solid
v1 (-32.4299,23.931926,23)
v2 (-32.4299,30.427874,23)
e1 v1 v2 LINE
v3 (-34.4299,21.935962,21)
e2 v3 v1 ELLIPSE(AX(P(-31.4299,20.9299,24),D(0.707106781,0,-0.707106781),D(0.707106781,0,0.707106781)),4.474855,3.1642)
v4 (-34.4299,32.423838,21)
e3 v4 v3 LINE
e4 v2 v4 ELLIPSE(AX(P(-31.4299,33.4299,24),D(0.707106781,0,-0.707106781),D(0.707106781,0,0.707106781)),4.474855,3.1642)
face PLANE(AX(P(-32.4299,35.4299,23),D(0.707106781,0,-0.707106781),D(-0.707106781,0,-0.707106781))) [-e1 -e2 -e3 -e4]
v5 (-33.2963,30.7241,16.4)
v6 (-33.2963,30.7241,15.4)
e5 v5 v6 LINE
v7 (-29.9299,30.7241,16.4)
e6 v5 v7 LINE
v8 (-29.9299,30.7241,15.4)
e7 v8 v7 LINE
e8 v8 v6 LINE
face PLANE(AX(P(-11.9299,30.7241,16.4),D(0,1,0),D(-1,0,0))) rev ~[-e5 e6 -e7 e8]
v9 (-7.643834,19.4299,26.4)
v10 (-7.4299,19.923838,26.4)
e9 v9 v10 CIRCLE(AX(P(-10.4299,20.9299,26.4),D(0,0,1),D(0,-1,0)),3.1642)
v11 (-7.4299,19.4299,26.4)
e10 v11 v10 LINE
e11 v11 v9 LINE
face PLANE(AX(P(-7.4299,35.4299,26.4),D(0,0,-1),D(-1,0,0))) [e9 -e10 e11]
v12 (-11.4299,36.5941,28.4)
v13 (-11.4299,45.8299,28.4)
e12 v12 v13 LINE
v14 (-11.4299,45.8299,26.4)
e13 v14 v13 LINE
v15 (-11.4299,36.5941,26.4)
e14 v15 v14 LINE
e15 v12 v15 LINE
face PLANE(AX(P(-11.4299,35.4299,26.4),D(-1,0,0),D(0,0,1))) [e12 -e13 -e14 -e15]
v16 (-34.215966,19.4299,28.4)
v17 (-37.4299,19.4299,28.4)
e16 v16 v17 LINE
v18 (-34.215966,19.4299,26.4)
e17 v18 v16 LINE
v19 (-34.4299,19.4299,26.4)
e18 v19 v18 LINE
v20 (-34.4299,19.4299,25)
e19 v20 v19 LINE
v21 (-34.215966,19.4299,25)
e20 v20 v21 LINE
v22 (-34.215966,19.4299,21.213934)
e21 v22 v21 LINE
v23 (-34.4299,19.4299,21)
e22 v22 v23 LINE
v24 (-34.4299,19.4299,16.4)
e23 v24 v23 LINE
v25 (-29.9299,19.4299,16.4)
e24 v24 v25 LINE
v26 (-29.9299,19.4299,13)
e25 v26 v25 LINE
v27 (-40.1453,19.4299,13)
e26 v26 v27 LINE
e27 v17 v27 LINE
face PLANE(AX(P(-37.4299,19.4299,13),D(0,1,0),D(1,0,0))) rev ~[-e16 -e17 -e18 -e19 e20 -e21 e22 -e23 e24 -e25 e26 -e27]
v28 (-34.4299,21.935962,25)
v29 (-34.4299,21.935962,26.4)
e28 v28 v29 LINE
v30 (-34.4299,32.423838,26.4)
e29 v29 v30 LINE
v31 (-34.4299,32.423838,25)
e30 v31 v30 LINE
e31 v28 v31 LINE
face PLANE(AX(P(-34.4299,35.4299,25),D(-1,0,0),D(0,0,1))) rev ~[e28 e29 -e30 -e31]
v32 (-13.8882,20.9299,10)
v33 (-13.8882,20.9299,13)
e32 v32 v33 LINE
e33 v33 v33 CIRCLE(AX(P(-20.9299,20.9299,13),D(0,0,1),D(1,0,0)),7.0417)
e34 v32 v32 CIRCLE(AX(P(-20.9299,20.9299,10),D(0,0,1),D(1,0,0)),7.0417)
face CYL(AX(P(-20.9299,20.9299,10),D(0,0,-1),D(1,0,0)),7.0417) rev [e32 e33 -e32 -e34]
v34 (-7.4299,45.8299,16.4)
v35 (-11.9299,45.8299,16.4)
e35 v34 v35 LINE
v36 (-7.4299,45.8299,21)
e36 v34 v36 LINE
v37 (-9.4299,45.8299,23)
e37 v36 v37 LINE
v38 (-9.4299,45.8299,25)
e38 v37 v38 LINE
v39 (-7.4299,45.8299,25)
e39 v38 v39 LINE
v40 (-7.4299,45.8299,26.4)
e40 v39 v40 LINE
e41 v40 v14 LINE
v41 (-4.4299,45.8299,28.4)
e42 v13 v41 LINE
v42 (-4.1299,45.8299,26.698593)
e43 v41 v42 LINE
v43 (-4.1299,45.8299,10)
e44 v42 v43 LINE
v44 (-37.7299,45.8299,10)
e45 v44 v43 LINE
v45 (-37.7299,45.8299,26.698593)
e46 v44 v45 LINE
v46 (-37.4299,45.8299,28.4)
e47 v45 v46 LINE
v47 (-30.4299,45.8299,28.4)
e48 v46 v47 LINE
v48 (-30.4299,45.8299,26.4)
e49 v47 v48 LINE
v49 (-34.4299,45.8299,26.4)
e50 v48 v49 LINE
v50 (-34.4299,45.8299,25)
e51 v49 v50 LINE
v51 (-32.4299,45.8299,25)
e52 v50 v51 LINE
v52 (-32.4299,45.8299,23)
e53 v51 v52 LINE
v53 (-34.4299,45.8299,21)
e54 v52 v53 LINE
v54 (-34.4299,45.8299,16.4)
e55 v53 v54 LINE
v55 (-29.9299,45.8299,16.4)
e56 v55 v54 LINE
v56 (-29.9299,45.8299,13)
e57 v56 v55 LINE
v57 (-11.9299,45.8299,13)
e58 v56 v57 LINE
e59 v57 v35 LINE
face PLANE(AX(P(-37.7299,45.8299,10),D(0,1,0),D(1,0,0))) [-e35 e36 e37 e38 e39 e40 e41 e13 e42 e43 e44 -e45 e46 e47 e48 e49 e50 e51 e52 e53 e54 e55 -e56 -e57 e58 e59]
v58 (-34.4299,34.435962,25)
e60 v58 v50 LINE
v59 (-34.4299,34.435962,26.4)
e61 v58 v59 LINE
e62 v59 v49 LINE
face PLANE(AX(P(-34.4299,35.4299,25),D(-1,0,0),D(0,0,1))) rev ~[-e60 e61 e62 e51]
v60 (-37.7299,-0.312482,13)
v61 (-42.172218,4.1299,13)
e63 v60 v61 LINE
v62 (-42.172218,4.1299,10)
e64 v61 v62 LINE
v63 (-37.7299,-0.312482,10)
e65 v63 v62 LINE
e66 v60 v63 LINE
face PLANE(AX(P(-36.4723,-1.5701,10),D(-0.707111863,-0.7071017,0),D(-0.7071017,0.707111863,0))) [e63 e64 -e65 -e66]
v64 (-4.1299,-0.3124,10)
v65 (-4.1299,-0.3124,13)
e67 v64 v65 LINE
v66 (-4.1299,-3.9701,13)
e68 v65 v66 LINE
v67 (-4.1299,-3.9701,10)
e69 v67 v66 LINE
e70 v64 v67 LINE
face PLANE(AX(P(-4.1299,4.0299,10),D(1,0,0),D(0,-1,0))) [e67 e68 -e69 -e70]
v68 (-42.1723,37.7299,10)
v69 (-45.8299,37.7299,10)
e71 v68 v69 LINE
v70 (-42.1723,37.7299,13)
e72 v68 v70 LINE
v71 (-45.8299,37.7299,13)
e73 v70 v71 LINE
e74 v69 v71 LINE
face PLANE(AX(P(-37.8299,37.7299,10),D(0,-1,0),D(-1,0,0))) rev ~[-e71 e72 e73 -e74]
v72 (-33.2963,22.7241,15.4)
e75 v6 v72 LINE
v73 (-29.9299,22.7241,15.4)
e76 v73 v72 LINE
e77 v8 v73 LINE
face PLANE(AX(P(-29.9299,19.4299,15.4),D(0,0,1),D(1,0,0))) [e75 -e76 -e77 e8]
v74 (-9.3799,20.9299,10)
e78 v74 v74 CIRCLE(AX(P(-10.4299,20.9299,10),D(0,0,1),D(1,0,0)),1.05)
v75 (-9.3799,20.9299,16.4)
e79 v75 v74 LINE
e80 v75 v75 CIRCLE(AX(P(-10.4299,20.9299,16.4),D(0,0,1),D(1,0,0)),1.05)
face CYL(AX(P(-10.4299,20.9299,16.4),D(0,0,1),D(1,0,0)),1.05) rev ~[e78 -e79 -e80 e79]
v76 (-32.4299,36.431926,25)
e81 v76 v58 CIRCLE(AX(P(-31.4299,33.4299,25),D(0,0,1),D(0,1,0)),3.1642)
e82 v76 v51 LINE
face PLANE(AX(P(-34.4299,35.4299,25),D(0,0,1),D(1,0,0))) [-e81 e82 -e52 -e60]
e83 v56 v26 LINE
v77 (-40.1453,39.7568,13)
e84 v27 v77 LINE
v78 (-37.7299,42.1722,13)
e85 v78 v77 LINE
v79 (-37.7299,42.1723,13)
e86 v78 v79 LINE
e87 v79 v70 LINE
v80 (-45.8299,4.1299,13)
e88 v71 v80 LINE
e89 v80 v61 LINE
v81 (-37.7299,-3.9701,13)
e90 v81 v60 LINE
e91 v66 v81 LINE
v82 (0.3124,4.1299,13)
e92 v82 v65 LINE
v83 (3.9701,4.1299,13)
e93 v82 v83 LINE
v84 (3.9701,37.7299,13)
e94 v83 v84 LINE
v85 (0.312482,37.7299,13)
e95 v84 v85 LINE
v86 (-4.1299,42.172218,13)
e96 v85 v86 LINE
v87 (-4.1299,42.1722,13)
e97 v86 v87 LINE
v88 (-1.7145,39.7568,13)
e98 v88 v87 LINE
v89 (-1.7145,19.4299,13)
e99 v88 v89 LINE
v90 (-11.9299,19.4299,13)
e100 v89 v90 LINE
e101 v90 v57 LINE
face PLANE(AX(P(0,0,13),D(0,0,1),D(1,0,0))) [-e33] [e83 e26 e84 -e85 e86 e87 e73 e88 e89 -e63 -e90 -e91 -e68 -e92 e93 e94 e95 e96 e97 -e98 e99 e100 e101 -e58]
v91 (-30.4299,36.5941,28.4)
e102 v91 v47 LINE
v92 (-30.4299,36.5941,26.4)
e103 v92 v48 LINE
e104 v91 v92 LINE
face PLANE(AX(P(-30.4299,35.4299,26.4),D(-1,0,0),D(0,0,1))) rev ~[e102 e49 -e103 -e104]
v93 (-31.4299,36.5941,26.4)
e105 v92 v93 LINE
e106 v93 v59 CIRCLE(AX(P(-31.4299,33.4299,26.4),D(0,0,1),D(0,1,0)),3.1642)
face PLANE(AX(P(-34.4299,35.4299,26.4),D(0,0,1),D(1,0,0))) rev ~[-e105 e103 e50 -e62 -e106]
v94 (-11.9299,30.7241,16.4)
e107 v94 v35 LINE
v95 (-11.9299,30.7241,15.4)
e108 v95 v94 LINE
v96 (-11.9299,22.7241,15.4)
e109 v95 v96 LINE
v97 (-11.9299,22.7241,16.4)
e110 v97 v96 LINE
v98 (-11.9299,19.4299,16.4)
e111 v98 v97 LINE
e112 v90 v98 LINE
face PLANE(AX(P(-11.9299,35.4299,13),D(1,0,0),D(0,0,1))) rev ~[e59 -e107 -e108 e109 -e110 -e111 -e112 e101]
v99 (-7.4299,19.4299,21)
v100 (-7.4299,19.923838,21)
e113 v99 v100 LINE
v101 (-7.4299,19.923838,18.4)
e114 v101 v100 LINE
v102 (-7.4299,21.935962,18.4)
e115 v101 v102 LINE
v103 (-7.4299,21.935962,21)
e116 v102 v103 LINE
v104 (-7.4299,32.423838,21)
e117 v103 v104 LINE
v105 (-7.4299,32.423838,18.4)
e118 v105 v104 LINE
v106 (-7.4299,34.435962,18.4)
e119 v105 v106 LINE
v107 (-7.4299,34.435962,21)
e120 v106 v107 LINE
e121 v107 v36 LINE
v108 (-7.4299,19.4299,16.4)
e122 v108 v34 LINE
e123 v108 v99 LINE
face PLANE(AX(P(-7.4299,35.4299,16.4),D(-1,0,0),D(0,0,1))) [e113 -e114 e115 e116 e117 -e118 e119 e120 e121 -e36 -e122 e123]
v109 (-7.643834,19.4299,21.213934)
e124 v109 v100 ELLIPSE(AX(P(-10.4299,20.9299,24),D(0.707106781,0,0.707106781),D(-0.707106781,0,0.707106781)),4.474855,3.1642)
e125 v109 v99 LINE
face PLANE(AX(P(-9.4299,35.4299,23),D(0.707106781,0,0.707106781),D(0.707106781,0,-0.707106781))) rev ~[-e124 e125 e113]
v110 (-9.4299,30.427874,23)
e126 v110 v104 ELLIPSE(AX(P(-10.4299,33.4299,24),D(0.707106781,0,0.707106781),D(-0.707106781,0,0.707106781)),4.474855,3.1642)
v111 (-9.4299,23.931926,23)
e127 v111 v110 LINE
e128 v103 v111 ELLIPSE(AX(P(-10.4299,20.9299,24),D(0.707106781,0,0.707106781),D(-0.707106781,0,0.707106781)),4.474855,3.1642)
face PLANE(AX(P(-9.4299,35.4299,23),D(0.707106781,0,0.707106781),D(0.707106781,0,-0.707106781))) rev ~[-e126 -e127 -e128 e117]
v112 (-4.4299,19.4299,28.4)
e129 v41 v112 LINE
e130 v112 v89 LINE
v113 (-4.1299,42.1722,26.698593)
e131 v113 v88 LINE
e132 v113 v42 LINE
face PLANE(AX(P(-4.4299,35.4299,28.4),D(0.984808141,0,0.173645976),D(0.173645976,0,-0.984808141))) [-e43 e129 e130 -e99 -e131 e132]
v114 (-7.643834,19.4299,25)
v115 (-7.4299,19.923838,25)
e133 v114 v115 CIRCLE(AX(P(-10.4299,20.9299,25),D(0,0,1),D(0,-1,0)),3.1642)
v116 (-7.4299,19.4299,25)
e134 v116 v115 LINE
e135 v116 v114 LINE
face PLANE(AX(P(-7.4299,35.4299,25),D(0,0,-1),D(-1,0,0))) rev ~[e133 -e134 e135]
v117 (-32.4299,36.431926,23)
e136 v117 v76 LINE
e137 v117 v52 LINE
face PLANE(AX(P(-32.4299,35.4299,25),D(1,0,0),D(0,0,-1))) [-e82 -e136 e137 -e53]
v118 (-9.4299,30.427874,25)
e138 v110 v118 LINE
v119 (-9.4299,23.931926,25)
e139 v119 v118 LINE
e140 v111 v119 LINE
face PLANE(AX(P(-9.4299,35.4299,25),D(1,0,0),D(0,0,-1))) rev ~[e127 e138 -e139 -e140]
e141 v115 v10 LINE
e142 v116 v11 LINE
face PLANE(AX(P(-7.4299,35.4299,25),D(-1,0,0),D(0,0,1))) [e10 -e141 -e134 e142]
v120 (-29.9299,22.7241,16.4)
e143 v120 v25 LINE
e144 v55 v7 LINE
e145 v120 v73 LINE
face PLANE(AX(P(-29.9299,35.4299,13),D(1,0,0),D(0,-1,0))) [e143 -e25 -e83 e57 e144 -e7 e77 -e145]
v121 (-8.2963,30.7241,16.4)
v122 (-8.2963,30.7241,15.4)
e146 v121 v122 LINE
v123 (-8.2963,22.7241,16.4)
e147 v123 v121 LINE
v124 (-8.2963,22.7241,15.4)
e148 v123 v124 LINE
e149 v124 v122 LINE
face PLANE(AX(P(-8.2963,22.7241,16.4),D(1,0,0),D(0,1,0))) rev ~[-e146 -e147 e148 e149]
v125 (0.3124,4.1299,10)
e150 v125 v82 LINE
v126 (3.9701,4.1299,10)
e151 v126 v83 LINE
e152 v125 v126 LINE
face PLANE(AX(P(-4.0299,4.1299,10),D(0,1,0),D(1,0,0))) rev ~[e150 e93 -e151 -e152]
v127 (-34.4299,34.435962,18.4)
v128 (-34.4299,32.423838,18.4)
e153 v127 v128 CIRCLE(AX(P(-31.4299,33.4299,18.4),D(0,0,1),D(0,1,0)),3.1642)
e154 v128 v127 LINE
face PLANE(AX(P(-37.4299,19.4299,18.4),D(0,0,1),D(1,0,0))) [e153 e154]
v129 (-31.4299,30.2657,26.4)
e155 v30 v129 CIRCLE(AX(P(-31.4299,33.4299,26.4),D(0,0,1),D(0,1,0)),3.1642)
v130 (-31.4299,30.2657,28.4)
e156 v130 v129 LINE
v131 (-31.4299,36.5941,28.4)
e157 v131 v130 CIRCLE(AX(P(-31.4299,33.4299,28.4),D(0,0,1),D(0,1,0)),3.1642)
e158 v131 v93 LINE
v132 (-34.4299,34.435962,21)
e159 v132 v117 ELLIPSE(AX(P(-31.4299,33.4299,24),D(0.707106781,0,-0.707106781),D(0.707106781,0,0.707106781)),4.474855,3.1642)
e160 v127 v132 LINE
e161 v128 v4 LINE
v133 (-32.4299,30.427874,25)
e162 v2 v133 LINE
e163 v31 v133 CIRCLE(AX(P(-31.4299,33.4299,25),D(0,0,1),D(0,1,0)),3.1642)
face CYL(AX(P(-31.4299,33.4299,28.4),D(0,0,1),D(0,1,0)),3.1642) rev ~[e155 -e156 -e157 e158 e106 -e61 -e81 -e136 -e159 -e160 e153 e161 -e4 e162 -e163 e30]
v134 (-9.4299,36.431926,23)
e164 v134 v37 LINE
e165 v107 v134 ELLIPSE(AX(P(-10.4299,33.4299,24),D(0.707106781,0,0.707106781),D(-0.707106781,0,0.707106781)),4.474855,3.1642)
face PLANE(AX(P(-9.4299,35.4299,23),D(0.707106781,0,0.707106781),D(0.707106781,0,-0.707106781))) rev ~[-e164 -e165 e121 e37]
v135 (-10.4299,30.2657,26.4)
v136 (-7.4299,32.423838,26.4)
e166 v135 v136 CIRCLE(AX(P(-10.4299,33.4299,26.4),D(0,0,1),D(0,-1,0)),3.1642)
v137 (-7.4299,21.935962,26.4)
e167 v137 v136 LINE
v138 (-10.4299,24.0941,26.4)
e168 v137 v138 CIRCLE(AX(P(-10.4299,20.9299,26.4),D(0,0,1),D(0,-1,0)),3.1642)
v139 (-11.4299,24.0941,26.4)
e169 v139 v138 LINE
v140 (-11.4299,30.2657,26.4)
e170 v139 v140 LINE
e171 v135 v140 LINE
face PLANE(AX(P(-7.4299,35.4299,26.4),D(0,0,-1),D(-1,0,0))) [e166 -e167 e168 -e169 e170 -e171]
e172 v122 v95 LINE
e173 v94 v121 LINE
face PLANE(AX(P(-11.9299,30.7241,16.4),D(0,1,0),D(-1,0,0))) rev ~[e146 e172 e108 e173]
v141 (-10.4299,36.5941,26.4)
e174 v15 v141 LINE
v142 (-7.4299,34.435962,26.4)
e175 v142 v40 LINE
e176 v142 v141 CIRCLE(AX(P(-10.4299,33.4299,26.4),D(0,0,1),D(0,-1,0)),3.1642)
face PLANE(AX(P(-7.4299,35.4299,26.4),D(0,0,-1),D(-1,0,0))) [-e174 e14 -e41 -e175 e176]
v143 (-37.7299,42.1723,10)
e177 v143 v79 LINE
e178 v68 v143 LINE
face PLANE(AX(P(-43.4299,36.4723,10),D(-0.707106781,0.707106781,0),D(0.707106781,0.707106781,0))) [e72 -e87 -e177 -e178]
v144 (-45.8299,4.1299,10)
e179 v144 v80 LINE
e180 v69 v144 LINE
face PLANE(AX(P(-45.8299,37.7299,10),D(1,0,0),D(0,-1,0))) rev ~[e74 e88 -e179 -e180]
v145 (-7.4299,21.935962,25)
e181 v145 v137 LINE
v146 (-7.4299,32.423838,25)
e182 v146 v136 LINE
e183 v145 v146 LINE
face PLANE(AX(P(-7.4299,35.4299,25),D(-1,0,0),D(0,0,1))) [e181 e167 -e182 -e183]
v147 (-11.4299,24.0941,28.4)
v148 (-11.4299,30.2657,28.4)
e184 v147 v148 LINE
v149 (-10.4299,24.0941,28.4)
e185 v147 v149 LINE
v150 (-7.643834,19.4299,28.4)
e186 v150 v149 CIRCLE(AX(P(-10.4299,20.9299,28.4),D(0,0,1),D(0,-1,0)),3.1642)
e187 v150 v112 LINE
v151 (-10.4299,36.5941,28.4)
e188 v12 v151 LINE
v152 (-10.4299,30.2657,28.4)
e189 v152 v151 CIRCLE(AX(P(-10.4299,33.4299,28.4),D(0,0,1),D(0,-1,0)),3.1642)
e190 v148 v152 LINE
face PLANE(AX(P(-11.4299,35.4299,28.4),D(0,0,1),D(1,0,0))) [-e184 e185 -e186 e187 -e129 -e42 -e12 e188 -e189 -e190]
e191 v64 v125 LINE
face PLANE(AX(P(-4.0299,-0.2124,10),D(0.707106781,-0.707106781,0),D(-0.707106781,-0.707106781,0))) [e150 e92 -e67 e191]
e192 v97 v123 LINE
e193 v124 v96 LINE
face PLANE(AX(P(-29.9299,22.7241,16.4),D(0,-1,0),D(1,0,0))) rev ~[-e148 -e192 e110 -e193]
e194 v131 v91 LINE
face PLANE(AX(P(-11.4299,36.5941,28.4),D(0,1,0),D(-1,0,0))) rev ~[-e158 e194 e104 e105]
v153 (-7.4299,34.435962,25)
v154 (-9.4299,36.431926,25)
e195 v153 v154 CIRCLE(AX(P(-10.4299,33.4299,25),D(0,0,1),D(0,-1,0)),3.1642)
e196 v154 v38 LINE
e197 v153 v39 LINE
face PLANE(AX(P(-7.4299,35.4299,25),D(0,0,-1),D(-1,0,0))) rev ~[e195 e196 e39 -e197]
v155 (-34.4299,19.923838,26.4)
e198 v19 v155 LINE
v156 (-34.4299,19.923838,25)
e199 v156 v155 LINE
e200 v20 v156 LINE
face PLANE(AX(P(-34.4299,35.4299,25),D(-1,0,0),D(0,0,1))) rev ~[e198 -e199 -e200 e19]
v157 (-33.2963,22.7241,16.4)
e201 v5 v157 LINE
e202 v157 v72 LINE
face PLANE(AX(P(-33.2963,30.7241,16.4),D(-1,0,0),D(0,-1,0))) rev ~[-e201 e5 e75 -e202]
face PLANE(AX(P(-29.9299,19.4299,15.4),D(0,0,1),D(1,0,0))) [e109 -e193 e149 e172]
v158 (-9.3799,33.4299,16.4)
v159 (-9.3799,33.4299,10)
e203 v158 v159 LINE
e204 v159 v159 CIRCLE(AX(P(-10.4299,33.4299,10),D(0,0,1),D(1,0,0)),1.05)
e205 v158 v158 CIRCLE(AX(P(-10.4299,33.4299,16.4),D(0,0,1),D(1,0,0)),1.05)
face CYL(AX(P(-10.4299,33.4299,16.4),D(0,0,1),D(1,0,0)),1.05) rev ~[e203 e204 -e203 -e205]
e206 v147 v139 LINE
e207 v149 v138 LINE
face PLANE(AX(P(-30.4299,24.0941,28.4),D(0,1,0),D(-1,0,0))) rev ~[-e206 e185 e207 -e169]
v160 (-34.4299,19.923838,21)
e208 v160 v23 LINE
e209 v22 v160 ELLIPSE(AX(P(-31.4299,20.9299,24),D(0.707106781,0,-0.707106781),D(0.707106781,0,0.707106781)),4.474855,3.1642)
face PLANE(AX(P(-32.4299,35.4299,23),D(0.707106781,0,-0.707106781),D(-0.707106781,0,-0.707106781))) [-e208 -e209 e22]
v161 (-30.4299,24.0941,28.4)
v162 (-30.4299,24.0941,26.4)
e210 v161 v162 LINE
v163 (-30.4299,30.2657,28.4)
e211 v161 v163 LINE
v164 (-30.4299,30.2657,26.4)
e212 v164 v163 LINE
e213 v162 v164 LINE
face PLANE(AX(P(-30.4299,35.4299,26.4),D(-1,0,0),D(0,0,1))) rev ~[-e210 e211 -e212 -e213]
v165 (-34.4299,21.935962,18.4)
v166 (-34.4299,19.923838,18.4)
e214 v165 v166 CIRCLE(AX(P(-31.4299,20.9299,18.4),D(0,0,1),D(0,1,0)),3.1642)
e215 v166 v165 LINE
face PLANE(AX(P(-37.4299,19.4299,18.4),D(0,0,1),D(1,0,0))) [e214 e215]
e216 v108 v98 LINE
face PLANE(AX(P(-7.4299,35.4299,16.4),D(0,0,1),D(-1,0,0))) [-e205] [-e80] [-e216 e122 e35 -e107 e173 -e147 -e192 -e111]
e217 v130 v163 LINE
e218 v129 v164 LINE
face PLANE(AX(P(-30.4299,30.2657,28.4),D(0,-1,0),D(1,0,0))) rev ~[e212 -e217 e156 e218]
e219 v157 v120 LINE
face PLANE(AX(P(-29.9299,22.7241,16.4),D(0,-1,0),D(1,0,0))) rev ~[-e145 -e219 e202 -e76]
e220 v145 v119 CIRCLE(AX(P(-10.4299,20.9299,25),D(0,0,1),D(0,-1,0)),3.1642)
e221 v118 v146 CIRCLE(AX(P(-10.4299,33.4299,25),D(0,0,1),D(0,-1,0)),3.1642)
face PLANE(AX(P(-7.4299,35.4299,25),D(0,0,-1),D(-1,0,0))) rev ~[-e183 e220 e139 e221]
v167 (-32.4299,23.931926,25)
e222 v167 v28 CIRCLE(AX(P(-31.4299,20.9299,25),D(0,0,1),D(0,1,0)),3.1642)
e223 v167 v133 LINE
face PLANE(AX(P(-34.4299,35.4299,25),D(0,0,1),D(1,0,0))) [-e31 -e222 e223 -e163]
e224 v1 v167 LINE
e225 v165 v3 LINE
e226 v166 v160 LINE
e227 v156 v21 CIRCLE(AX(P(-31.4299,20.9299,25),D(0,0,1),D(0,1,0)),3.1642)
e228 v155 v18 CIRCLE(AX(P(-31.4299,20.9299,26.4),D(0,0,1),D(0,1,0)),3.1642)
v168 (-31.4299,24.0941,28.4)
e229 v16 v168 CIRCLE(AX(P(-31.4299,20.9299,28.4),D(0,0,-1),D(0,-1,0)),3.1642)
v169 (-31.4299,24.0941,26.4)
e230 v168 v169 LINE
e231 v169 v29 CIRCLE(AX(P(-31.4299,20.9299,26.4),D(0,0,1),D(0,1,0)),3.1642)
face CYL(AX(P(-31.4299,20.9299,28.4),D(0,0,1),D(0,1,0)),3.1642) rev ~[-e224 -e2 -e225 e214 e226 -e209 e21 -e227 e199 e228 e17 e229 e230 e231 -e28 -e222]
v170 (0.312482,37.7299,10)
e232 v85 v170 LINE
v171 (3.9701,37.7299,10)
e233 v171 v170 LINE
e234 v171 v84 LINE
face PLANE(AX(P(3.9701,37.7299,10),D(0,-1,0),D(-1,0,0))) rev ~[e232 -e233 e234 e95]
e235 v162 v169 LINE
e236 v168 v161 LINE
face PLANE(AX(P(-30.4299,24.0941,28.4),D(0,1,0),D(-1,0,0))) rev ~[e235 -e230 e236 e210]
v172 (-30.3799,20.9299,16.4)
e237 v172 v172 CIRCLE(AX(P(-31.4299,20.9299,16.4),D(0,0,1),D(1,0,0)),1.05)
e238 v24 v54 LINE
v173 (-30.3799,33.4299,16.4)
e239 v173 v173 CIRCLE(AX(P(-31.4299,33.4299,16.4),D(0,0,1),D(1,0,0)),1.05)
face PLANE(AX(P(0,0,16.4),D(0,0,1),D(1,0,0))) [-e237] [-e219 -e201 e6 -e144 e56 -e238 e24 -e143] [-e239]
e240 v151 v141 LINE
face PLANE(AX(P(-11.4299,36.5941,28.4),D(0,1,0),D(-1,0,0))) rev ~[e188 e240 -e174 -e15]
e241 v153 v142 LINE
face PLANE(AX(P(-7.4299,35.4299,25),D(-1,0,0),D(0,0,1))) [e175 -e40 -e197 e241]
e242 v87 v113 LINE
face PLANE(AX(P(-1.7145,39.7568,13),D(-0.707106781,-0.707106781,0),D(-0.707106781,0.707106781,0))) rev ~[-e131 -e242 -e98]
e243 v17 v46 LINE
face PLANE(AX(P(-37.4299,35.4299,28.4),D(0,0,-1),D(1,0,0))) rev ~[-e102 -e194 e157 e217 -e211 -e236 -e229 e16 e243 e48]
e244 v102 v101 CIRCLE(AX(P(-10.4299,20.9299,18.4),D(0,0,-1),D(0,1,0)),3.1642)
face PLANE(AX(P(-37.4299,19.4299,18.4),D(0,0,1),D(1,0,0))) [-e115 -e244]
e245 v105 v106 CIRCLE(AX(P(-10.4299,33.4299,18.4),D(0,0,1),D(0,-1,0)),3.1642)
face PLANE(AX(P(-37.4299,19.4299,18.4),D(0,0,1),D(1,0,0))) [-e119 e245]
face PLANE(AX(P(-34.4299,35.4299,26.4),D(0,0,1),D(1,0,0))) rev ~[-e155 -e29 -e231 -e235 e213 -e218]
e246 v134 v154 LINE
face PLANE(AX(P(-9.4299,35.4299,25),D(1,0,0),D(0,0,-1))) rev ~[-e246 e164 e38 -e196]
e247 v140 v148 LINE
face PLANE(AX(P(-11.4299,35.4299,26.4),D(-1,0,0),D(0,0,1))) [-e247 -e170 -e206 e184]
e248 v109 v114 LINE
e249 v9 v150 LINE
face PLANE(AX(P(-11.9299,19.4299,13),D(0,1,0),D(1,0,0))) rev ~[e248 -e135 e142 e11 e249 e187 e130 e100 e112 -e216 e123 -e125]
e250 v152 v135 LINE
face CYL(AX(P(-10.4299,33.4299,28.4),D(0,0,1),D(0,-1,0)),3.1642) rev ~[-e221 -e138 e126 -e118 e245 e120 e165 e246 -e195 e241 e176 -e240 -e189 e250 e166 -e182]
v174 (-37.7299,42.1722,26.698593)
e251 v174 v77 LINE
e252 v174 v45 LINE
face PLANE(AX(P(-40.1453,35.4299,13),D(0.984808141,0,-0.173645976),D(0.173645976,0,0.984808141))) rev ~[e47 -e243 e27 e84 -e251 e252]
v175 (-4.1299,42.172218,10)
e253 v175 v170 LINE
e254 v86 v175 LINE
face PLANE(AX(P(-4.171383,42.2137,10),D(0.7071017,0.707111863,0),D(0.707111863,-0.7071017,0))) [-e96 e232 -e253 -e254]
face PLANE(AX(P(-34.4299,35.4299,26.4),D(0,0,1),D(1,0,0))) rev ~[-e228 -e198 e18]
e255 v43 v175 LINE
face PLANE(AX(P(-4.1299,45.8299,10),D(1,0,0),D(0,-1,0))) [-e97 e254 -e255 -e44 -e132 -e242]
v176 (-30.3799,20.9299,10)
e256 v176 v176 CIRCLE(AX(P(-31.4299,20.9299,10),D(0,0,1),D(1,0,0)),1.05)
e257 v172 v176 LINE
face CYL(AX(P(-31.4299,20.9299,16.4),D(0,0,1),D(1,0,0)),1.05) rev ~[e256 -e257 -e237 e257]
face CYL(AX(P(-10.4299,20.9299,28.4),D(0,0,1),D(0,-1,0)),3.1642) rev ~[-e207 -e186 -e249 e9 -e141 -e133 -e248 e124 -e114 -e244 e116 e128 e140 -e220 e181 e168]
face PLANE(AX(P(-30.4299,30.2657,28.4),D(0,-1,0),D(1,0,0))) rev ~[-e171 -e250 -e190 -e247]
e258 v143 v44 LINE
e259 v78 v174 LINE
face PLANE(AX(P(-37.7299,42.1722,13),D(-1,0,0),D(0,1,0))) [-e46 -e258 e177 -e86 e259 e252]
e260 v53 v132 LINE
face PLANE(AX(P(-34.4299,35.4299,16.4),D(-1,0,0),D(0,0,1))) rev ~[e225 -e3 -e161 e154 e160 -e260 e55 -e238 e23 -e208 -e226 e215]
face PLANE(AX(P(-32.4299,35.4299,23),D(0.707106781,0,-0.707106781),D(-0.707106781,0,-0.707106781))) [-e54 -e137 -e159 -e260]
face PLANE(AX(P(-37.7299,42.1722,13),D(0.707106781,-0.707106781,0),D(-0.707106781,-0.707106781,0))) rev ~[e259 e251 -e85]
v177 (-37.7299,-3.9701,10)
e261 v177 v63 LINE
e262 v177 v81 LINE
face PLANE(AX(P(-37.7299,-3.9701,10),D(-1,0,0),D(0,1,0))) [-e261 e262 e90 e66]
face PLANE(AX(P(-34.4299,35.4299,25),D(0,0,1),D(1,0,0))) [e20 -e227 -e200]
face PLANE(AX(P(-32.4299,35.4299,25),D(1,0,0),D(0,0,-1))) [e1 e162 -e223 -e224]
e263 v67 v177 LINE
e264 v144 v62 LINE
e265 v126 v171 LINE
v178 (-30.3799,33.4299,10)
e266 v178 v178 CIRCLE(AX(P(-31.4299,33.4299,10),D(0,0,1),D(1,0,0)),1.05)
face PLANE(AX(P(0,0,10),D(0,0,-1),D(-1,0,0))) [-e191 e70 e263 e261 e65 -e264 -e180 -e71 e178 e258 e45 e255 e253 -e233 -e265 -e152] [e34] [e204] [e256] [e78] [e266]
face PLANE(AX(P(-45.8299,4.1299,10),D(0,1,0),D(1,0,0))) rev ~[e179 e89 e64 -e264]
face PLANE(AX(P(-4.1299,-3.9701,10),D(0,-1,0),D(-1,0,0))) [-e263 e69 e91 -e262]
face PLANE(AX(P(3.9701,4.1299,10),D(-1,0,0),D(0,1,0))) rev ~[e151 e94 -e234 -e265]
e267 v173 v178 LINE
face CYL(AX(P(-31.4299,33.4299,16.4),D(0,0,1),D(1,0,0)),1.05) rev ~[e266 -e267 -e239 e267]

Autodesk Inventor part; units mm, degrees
ref_plane "YZ Plane" through (0, 0, 0) normal (1, 0, 0) x (0, 1, 0)
ref_plane "XZ Plane" through (0, 0, 0) normal (0, 1, 0) x (-1, 0, 0)
ref_plane "Work Plane1" through (0, 0, 10) normal (0, 0, 1) x (1, 0, 0)
sketch "Sketch1" plane through (0, 0, 10) normal (0, 0, 1) x (1, 0, 0)
  line L0 (-4.0299, -0.3538) -> (-2.2322, 1.4439) construction
  arc A0 (-1.4439, 2.2322) -> (-2.2322, 1.4439) centre (-0.9299, 0.9299) ccw construction
  line L1 (-1.4439, 2.2322) -> (0.3538, 4.0299) construction
  line L2 (-37.8299, 42.2137) -> (-37.8299, 45.8299) construction
  line L3 (-37.8299, 45.8299) -> (-4.0299, 45.8299) construction
  line L4 (-4.0299, 45.8299) -> (-4.0299, 42.2137) construction
  line L5 (-4.0299, 4.0299) -> (0.3538, 4.0299) projected
  circle A1 centre (-20.9299, 20.9299) radius 17.5 projected
  line L6 (-20.9299, 58.9723) -> (17.1124, 20.9299) construction
  line L7 (17.1124, 20.9299) -> (-20.9299, -17.1124) construction
  line L8 (-20.9299, -17.1124) -> (-58.9723, 20.9299) construction
  line L9 (-58.9723, 20.9299) -> (-20.9299, 58.9723) construction
  line L10 (-20.9299, 58.9723) -> (-20.9299, -17.1124) construction
  line L11 (17.1124, 20.9299) -> (-58.9723, 20.9299) construction
  line L12 (-20.9299, 58.9723) -> (32.8701, 58.9723) construction
  line L13 (-43.4299, 43.4299) -> (1.5701, 43.4299) construction
  line L14 (1.5701, 43.4299) -> (1.5701, -1.5701) construction
  line L15 (1.5701, -1.5701) -> (-43.4299, -1.5701) construction
  line L16 (-43.4299, -1.5701) -> (-43.4299, 43.4299) construction
  line L17 (-43.4299, 43.4299) -> (1.5701, -1.5701) construction
  line L18 (1.5701, 43.4299) -> (-43.4299, -1.5701) construction
  line L19 (-43.4299, 5.3876) -> (-43.4299, 36.4723)
  line L20 (-43.4299, 36.4723) -> (-36.4723, 43.4299)
  line L21 (-36.4723, 43.4299) -> (-5.3876, 43.4299)
  line L22 (-5.3876, 43.4299) -> (1.5701, 36.4723)
  line L23 (1.5701, 36.4723) -> (1.5701, 5.3876)
  line L24 (1.5701, 5.3876) -> (-5.3876, -1.5701)
  line L25 (-5.3876, -1.5701) -> (-36.4723, -1.5701)
  line L26 (-36.4723, -1.5701) -> (-43.4299, 5.3876)
  line L27 (-4.0299, 42.2137) -> (-37.8299, 42.2137) projected
  line L28 (-4.0299, -0.3538) -> (-4.0299, 4.0299) projected
  circle A2 centre (-20.9299, 20.9299) radius 7.0417
  point P0 (-37.8299, 4.0299)
  dimension "d18" = 53.8
  dimension "d19" = 45
  dimension "d20" = 53.8
  dimension "d21" = 45
  dimension "d22" = 45
extrude "Extrusion1" add sketch "Sketch1" along normal blind 3 contours L28 L24 L25 L26 L19 L20 L27 L22 L23 L5 | L5 L24 L28 | L27 L20 L21 L22 | A1
sketch "Sketch3" plane through (0, 0, 10) normal (0, 0, -1) x (-1, 0, 0)
  line L0 (37.8299, -0.4701) -> (37.8299, 4.0299) construction
  line L1 (4.0299, 4.0299) -> (4.0299, -0.4701) construction
  line L2 (37.8299, -0.4701) -> (37.8299, 1.1886) construction
  line L3 (4.0299, -3.9701) -> (4.0299, -0.3538) construction
  line L4 (45.8299, 4.0299) -> (42.2137, 4.0299) construction
  line L5 (-0.3538, 4.0299) -> (-3.9701, 4.0299) construction
  line L6 (-3.9701, 37.8299) -> (-0.3538, 37.8299) construction
  line L7 (4.0299, 42.2137) -> (4.0299, 45.8299) construction
  line L8 (37.8299, 45.8299) -> (37.8299, 42.2137) construction
  line L9 (42.2137, 37.8299) -> (45.8299, 37.8299) construction
  line L10 (37.8299, 37.7299) -> (45.8299, 37.7299)
  line L11 (45.8299, 37.7299) -> (45.8299, 4.1299)
  line L12 (45.8299, 4.1299) -> (37.8299, 4.1299)
  line L13 (37.8299, 4.1299) -> (37.8299, 37.7299)
  line L14 (37.7299, 4.0299) -> (4.1299, 4.0299)
  line L15 (4.1299, 4.0299) -> (4.1299, -3.9701)
  line L16 (4.1299, -3.9701) -> (37.7299, -3.9701)
  line L17 (37.7299, -3.9701) -> (37.7299, 4.0299)
  line L18 (4.0299, 4.1299) -> (-3.9701, 4.1299)
  line L19 (-3.9701, 4.1299) -> (-3.9701, 37.7299)
  line L20 (-3.9701, 37.7299) -> (4.0299, 37.7299)
  line L21 (4.0299, 37.7299) -> (4.0299, 4.1299)
  line L22 (4.1299, 37.8299) -> (37.7299, 37.8299)
  line L23 (37.7299, 37.8299) -> (37.7299, 45.8299)
  line L24 (37.7299, 45.8299) -> (4.1299, 45.8299)
  line L25 (4.1299, 45.8299) -> (4.1299, 37.8299)
  point P0 (0, 0)
  dimension "d23" = 0.1
  dimension "d24" = 0.1
  dimension "d25" = 0.1
  dimension "d26" = 0.1
  dimension "d27" = 0.1
extrude "Extrusion3" add sketch "Sketch3" against normal up to surface (3 mm away)
sketch "Sketch4" plane through (0, 0, 13) normal (0, 0, 1) x (1, 0, 0)
  line L0 (-33.4299, 35.4299) -> (-33.4299, 11.4299) construction
  line L1 (-33.4299, 11.4299) -> (-8.4299, 11.4299) construction
  line L2 (-8.4299, 11.4299) -> (-8.4299, 35.4299) construction
  line L3 (-8.4299, 35.4299) -> (-33.4299, 35.4299) construction
  circle A0 centre (-10.4299, 33.4299) radius 1.05 construction
  circle A1 centre (-10.4299, 20.9299) radius 1.05 construction
  circle A2 centre (-31.4299, 20.9299) radius 1.05 construction
  circle A3 centre (-31.4299, 33.4299) radius 1.05 construction
  line L4 (-15.4299, 29.8299) -> (-12.4299, 29.8299) construction
  line L5 (-15.4299, 31.8299) -> (-15.4299, 29.8299) construction
  line L6 (-12.4299, 31.8299) -> (-15.4299, 31.8299) construction
  line L7 (-12.4299, 29.8299) -> (-12.4299, 31.8299) construction
  line L8 (-8.4299, 35.4299) -> (-11.9299, 35.4299)
  line L9 (-11.9299, 35.4299) -> (-11.9299, 19.4299)
  line L10 (-11.9299, 19.4299) -> (-8.4299, 19.4299)
  line L11 (-8.4299, 19.4299) -> (-8.4299, 35.4299)
  line L12 (-33.4299, 35.4299) -> (-29.9299, 35.4299)
  line L13 (-29.9299, 35.4299) -> (-29.9299, 19.4299)
  line L14 (-29.9299, 19.4299) -> (-33.4299, 19.4299)
  line L15 (-33.4299, 19.4299) -> (-33.4299, 35.4299)
  line L16 (-33.4299, 35.4299) -> (-37.4299, 35.4299)
  line L17 (-37.4299, 35.4299) -> (-37.4299, 19.4299)
  line L18 (-37.4299, 19.4299) -> (-33.4299, 19.4299)
  line L19 (-33.4299, 19.4299) -> (-33.4299, 35.4299)
  line L20 (-8.4299, 35.4299) -> (-4.4299, 35.4299)
  line L21 (-4.4299, 35.4299) -> (-4.4299, 19.4299)
  line L22 (-4.4299, 19.4299) -> (-8.4299, 19.4299)
  line L23 (-8.4299, 19.4299) -> (-8.4299, 35.4299)
  point P0 (0, 0)
  dimension "d30" = 3.5
  dimension "d31" = 16
  dimension "d32" = 3.5
  dimension "d37" = 4
  dimension "d38" = 4
ref_plane "Work Plane3" through (-33.4299, 11.4299, 16.4) normal (0, 0, -1) x (0, 1, 0)
extrude "Extrusion4" add sketch "Sketch4" along normal up to surface (3.4 mm away)
sketch "Sketch5" plane through (-11.9299, 35.4299, 16.4) normal (0, 0, 1) x (1, 0, 0)
  circle A0 centre (1.5, -14.5) radius 1.05 projected
  circle A1 centre (1.5, -2) radius 1.05 projected
  circle A2 centre (-19.5, -2) radius 1.05 projected
  circle A3 centre (-19.5, -14.5) radius 1.05 projected
  point P0 (11.9299, -35.4299)
extrude "Extrusion5" cut sketch "Sketch5" against normal through all
sketch "Sketch7" plane through (-37.4299, 35.4299, 13) normal (0, 1, 0) x (1, 0, 0)
  line L0 (4.95, -3.4) -> (4.95, 3) projected
  line L1 (7.5, -3.4) -> (0, -3.4) projected
  line L2 (7.5, 0) -> (7.5, -3.4) projected
  line L3 (0, 0) -> (7.5, 0) projected
  line L4 (0, 0) -> (0, -3.4) projected
  line L5 (33, -3.4) -> (25.5, -3.4) projected
  line L6 (33, 0) -> (33, -3.4) projected
  line L7 (25.5, 0) -> (33, 0) projected
  line L8 (25.5, 0) -> (25.5, -3.4) projected
  line L9 (0, -3.4) -> (7.5, -3.4) projected
  line L10 (0, -3.4) -> (3, -3.4)
  line L11 (3, -3.4) -> (3, -13.4)
  line L12 (3, -13.4) -> (0, -13.4)
  line L13 (0, -13.4) -> (0, -3.4)
  line L14 (33, -3.4) -> (30, -3.4)
  line L15 (30, -3.4) -> (30, -13.4)
  line L16 (30, -13.4) -> (33, -13.4)
  line L17 (33, -13.4) -> (33, -3.4)
  line L18 (0, -13.4) -> (7, -13.4)
  line L19 (7, -13.4) -> (7, -15.4)
  line L20 (7, -15.4) -> (0, -15.4)
  line L21 (0, -15.4) -> (0, -13.4)
  line L22 (33, -13.4) -> (26, -13.4)
  line L23 (26, -13.4) -> (26, -15.4)
  line L24 (26, -15.4) -> (33, -15.4)
  line L25 (33, -15.4) -> (33, -13.4)
  line L26 (3, -12) -> (5, -12)
  line L27 (5, -12) -> (5, -10)
  line L28 (5, -10) -> (3, -10)
  line L29 (3, -10) -> (3, -12)
  line L30 (30, -12) -> (28, -12)
  line L31 (28, -12) -> (28, -10)
  line L32 (28, -10) -> (30, -10)
  line L33 (30, -10) -> (30, -12)
  line L34 (5, -10) -> (3, -8)
  line L35 (5, -10) -> (7.8284, -10) construction
  line L36 (28, -10) -> (30, -8)
  line L37 (0, -15.4) -> (-2.7154, 0)
  line L38 (-4.7423, 0) -> (-0.3, 0) projected
  line L39 (0, -15.4) -> (15.6376, -15.4) construction
  line L40 (-2.7154, 0) -> (0, 0)
  line L41 (0, -15.4) -> (0, 0)
  line L42 (33, -15.4) -> (35.7154, 0)
  line L43 (33, -15.4) -> (48.6376, -15.4) construction
  line L44 (35.7154, 0) -> (33, 0)
  line L45 (37.7423, 0) -> (33.3, 0) projected
  line L46 (33, -15.4) -> (33, 0)
  point P0 (37.4299, 13)
  dimension "d39" = 3
  dimension "d40" = 10
  dimension "d41" = 3
  dimension "d42" = 7
  dimension "d43" = 2
  dimension "d44" = 7
  dimension "d47" = 27
  dimension "d48" = 1.4
  dimension "d49" = 2
  dimension "d50" = 2
  dimension "d51" = 2
  dimension "d52" = 135
  dimension "d53" = 100
  dimension "d54" = 80
extrude "Extrusion6" add sketch "Sketch7" against normal up to surface (16 mm away) contours L11 L12 L13 L1 | L4 L13 L21 L37 L38 L40 | L34 L28 L11 | L12 L18 L19 L20 L21 | L28 L27 L26 L11 | L17 L16 L15 L5 | L6 L44 L42 L25 L17 | L25 L24 L23 L22 L16 | L15 L32 L36 | L15 L30 L31 L32
sketch "Sketch8" plane through (-29.9299, 35.4299, 16.4) normal (0, 1, 0) x (1, 0, 0)
  line L0 (0, 0) -> (-4.5, 0) projected
  line L1 (0, 3.4) -> (0, 0) projected
  line L2 (-10.2154, 3.4) -> (0, 3.4) projected
  line L3 (-10.2154, 3.4) -> (-7.5, -12) projected
  line L4 (-7.5, -12) -> (-0.5, -12) projected
  line L5 (-0.5, -12) -> (-0.5, -10) projected
  line L6 (-0.5, -10) -> (-4.5, -10) projected
  line L7 (-4.5, -10) -> (-4.5, -8.6) projected
  line L8 (-4.5, -8.6) -> (-2.5, -8.6) projected
  line L9 (-2.5, -8.6) -> (-2.5, -6.6) projected
  line L10 (-2.5, -6.6) -> (-4.5, -4.6) projected
  line L11 (-4.5, -4.6) -> (-4.5, 0) projected
  line L12 (18, 3.4) -> (28.2154, 3.4) projected
  line L13 (18, 3.4) -> (18, 0) projected
  line L14 (22.5, 0) -> (18, 0) projected
  line L15 (22.5, 0) -> (22.5, -4.6) projected
  line L16 (22.5, -4.6) -> (20.5, -6.6) projected
  line L17 (20.5, -6.6) -> (20.5, -8.6) projected
  line L18 (20.5, -8.6) -> (22.5, -8.6) projected
  line L19 (22.5, -8.6) -> (22.5, -10) projected
  line L20 (22.5, -10) -> (18.5, -10) projected
  line L21 (18.5, -10) -> (18.5, -12) projected
  line L22 (18.5, -12) -> (25.5, -12) projected
  line L23 (25.5, -12) -> (28.2154, 3.4) projected
  point P0 (29.9299, 16.4)
extrude "Extrusion7" add sketch "Sketch8" along normal up to surface (10.4 mm away)
sketch "Sketch9" plane through (-37.7299, 45.8299, 13) normal (0, 0, -1) x (-1, 0, 0)
  line L0 (0, -3.6577) -> (2.4154, -6.0731) projected
  line L1 (2.4154, -6.0731) -> (2.4154, 0) projected
  line L2 (2.4154, 0) -> (0, 0) projected
  line L3 (0, -3.6577) -> (0, 0) projected
  line L4 (-33.6, 0) -> (-33.6, -3.6577) projected
  line L5 (-33.6, 0) -> (-36.0154, 0) projected
  line L6 (-36.0154, -6.0731) -> (-36.0154, 0) projected
  line L7 (-36.0154, -6.0731) -> (-33.6, -3.6577) projected
  point P0 (-37.7299, -45.8299)
extrude "Extrusion8" cut sketch "Sketch9" against normal through all
sketch "Sketch10" plane through (-29.9299, 19.4299, 16.4) normal (0, 0, 1) x (1, 0, 0)
  line L0 (0, 26.4) -> (0, 0) projected
  line L1 (18, 0) -> (18, 26.4) projected
  line L2 (-3.3664, 3.2942) -> (21.6336, 3.2942)
  line L3 (21.6336, 3.2942) -> (21.6336, 11.2942)
  line L4 (21.6336, 11.2942) -> (-3.3664, 11.2942)
  line L5 (-3.3664, 11.2942) -> (-3.3664, 3.2942)
  line L6 (-3.3664, 3.2942) -> (21.6336, 11.2942) construction
  line L7 (21.6336, 3.2942) -> (-3.3664, 11.2942) construction
  point P0 (29.9299, -19.4299)
  point P1 (9.1336, 7.2942)
  dimension "d59" = 25
  dimension "d60" = 8
extrude "Extrusion9" cut sketch "Sketch10" against normal blind 1
sketch "Sketch11" plane through (-37.4299, 19.4299, 28.4) normal (0, 0, 1) x (1, 0, 0)
  line L0 (0, 0) -> (7, 0) projected
  line L1 (7, 0) -> (7, 26.4) projected
  line L2 (7, 26.4) -> (0, 26.4) projected
  line L3 (0, 26.4) -> (0, 0) projected
  line L4 (26, 0) -> (33, 0) projected
  line L5 (33, 0) -> (33, 26.4) projected
  line L6 (33, 26.4) -> (26, 26.4) projected
  line L7 (26, 0) -> (26, 26.4) projected
  circle A0 centre (16.5, 1.5) radius 7.0417 projected
  circle A1 centre (6, 1.5) radius 1.05 construction
  circle A2 centre (6, 14) radius 1.05 construction
  line L8 (27, 1.5) -> (6, 1.5) construction
  line L9 (27, 4.6642) -> (6, 4.6642)
  line L10 (6, -1.6642) -> (27, -1.6642)
  arc A3 (27, -1.6642) -> (27, 4.6642) centre (27, 1.5) ccw
  arc A4 (6, 4.6642) -> (6, -1.6642) centre (6, 1.5) ccw
  line L11 (27, 14) -> (6, 14) construction
  line L12 (27, 17.1642) -> (6, 17.1642)
  line L13 (6, 10.8358) -> (27, 10.8358)
  arc A5 (27, 10.8358) -> (27, 17.1642) centre (27, 14) ccw
  arc A6 (6, 17.1642) -> (6, 10.8358) centre (6, 14) ccw
  point P0 (37.4299, -19.4299)
  point P1 (16.5, 14)
extrude "Extrusion10" cut sketch "Sketch11" against normal blind 10 contours A4 L9 L1 L0 | L0 L1 L9 A0 L10 A4 | A0 L9 L10 | L12 L7 L13 L1 | L1 L13 A6 L12 | A0 L9 L7 L4 A3 L10 | L12 A5 L13 L7 | L9 A3 L4 L7
properties part number "50_Cube_Insert_Thorlabs"
